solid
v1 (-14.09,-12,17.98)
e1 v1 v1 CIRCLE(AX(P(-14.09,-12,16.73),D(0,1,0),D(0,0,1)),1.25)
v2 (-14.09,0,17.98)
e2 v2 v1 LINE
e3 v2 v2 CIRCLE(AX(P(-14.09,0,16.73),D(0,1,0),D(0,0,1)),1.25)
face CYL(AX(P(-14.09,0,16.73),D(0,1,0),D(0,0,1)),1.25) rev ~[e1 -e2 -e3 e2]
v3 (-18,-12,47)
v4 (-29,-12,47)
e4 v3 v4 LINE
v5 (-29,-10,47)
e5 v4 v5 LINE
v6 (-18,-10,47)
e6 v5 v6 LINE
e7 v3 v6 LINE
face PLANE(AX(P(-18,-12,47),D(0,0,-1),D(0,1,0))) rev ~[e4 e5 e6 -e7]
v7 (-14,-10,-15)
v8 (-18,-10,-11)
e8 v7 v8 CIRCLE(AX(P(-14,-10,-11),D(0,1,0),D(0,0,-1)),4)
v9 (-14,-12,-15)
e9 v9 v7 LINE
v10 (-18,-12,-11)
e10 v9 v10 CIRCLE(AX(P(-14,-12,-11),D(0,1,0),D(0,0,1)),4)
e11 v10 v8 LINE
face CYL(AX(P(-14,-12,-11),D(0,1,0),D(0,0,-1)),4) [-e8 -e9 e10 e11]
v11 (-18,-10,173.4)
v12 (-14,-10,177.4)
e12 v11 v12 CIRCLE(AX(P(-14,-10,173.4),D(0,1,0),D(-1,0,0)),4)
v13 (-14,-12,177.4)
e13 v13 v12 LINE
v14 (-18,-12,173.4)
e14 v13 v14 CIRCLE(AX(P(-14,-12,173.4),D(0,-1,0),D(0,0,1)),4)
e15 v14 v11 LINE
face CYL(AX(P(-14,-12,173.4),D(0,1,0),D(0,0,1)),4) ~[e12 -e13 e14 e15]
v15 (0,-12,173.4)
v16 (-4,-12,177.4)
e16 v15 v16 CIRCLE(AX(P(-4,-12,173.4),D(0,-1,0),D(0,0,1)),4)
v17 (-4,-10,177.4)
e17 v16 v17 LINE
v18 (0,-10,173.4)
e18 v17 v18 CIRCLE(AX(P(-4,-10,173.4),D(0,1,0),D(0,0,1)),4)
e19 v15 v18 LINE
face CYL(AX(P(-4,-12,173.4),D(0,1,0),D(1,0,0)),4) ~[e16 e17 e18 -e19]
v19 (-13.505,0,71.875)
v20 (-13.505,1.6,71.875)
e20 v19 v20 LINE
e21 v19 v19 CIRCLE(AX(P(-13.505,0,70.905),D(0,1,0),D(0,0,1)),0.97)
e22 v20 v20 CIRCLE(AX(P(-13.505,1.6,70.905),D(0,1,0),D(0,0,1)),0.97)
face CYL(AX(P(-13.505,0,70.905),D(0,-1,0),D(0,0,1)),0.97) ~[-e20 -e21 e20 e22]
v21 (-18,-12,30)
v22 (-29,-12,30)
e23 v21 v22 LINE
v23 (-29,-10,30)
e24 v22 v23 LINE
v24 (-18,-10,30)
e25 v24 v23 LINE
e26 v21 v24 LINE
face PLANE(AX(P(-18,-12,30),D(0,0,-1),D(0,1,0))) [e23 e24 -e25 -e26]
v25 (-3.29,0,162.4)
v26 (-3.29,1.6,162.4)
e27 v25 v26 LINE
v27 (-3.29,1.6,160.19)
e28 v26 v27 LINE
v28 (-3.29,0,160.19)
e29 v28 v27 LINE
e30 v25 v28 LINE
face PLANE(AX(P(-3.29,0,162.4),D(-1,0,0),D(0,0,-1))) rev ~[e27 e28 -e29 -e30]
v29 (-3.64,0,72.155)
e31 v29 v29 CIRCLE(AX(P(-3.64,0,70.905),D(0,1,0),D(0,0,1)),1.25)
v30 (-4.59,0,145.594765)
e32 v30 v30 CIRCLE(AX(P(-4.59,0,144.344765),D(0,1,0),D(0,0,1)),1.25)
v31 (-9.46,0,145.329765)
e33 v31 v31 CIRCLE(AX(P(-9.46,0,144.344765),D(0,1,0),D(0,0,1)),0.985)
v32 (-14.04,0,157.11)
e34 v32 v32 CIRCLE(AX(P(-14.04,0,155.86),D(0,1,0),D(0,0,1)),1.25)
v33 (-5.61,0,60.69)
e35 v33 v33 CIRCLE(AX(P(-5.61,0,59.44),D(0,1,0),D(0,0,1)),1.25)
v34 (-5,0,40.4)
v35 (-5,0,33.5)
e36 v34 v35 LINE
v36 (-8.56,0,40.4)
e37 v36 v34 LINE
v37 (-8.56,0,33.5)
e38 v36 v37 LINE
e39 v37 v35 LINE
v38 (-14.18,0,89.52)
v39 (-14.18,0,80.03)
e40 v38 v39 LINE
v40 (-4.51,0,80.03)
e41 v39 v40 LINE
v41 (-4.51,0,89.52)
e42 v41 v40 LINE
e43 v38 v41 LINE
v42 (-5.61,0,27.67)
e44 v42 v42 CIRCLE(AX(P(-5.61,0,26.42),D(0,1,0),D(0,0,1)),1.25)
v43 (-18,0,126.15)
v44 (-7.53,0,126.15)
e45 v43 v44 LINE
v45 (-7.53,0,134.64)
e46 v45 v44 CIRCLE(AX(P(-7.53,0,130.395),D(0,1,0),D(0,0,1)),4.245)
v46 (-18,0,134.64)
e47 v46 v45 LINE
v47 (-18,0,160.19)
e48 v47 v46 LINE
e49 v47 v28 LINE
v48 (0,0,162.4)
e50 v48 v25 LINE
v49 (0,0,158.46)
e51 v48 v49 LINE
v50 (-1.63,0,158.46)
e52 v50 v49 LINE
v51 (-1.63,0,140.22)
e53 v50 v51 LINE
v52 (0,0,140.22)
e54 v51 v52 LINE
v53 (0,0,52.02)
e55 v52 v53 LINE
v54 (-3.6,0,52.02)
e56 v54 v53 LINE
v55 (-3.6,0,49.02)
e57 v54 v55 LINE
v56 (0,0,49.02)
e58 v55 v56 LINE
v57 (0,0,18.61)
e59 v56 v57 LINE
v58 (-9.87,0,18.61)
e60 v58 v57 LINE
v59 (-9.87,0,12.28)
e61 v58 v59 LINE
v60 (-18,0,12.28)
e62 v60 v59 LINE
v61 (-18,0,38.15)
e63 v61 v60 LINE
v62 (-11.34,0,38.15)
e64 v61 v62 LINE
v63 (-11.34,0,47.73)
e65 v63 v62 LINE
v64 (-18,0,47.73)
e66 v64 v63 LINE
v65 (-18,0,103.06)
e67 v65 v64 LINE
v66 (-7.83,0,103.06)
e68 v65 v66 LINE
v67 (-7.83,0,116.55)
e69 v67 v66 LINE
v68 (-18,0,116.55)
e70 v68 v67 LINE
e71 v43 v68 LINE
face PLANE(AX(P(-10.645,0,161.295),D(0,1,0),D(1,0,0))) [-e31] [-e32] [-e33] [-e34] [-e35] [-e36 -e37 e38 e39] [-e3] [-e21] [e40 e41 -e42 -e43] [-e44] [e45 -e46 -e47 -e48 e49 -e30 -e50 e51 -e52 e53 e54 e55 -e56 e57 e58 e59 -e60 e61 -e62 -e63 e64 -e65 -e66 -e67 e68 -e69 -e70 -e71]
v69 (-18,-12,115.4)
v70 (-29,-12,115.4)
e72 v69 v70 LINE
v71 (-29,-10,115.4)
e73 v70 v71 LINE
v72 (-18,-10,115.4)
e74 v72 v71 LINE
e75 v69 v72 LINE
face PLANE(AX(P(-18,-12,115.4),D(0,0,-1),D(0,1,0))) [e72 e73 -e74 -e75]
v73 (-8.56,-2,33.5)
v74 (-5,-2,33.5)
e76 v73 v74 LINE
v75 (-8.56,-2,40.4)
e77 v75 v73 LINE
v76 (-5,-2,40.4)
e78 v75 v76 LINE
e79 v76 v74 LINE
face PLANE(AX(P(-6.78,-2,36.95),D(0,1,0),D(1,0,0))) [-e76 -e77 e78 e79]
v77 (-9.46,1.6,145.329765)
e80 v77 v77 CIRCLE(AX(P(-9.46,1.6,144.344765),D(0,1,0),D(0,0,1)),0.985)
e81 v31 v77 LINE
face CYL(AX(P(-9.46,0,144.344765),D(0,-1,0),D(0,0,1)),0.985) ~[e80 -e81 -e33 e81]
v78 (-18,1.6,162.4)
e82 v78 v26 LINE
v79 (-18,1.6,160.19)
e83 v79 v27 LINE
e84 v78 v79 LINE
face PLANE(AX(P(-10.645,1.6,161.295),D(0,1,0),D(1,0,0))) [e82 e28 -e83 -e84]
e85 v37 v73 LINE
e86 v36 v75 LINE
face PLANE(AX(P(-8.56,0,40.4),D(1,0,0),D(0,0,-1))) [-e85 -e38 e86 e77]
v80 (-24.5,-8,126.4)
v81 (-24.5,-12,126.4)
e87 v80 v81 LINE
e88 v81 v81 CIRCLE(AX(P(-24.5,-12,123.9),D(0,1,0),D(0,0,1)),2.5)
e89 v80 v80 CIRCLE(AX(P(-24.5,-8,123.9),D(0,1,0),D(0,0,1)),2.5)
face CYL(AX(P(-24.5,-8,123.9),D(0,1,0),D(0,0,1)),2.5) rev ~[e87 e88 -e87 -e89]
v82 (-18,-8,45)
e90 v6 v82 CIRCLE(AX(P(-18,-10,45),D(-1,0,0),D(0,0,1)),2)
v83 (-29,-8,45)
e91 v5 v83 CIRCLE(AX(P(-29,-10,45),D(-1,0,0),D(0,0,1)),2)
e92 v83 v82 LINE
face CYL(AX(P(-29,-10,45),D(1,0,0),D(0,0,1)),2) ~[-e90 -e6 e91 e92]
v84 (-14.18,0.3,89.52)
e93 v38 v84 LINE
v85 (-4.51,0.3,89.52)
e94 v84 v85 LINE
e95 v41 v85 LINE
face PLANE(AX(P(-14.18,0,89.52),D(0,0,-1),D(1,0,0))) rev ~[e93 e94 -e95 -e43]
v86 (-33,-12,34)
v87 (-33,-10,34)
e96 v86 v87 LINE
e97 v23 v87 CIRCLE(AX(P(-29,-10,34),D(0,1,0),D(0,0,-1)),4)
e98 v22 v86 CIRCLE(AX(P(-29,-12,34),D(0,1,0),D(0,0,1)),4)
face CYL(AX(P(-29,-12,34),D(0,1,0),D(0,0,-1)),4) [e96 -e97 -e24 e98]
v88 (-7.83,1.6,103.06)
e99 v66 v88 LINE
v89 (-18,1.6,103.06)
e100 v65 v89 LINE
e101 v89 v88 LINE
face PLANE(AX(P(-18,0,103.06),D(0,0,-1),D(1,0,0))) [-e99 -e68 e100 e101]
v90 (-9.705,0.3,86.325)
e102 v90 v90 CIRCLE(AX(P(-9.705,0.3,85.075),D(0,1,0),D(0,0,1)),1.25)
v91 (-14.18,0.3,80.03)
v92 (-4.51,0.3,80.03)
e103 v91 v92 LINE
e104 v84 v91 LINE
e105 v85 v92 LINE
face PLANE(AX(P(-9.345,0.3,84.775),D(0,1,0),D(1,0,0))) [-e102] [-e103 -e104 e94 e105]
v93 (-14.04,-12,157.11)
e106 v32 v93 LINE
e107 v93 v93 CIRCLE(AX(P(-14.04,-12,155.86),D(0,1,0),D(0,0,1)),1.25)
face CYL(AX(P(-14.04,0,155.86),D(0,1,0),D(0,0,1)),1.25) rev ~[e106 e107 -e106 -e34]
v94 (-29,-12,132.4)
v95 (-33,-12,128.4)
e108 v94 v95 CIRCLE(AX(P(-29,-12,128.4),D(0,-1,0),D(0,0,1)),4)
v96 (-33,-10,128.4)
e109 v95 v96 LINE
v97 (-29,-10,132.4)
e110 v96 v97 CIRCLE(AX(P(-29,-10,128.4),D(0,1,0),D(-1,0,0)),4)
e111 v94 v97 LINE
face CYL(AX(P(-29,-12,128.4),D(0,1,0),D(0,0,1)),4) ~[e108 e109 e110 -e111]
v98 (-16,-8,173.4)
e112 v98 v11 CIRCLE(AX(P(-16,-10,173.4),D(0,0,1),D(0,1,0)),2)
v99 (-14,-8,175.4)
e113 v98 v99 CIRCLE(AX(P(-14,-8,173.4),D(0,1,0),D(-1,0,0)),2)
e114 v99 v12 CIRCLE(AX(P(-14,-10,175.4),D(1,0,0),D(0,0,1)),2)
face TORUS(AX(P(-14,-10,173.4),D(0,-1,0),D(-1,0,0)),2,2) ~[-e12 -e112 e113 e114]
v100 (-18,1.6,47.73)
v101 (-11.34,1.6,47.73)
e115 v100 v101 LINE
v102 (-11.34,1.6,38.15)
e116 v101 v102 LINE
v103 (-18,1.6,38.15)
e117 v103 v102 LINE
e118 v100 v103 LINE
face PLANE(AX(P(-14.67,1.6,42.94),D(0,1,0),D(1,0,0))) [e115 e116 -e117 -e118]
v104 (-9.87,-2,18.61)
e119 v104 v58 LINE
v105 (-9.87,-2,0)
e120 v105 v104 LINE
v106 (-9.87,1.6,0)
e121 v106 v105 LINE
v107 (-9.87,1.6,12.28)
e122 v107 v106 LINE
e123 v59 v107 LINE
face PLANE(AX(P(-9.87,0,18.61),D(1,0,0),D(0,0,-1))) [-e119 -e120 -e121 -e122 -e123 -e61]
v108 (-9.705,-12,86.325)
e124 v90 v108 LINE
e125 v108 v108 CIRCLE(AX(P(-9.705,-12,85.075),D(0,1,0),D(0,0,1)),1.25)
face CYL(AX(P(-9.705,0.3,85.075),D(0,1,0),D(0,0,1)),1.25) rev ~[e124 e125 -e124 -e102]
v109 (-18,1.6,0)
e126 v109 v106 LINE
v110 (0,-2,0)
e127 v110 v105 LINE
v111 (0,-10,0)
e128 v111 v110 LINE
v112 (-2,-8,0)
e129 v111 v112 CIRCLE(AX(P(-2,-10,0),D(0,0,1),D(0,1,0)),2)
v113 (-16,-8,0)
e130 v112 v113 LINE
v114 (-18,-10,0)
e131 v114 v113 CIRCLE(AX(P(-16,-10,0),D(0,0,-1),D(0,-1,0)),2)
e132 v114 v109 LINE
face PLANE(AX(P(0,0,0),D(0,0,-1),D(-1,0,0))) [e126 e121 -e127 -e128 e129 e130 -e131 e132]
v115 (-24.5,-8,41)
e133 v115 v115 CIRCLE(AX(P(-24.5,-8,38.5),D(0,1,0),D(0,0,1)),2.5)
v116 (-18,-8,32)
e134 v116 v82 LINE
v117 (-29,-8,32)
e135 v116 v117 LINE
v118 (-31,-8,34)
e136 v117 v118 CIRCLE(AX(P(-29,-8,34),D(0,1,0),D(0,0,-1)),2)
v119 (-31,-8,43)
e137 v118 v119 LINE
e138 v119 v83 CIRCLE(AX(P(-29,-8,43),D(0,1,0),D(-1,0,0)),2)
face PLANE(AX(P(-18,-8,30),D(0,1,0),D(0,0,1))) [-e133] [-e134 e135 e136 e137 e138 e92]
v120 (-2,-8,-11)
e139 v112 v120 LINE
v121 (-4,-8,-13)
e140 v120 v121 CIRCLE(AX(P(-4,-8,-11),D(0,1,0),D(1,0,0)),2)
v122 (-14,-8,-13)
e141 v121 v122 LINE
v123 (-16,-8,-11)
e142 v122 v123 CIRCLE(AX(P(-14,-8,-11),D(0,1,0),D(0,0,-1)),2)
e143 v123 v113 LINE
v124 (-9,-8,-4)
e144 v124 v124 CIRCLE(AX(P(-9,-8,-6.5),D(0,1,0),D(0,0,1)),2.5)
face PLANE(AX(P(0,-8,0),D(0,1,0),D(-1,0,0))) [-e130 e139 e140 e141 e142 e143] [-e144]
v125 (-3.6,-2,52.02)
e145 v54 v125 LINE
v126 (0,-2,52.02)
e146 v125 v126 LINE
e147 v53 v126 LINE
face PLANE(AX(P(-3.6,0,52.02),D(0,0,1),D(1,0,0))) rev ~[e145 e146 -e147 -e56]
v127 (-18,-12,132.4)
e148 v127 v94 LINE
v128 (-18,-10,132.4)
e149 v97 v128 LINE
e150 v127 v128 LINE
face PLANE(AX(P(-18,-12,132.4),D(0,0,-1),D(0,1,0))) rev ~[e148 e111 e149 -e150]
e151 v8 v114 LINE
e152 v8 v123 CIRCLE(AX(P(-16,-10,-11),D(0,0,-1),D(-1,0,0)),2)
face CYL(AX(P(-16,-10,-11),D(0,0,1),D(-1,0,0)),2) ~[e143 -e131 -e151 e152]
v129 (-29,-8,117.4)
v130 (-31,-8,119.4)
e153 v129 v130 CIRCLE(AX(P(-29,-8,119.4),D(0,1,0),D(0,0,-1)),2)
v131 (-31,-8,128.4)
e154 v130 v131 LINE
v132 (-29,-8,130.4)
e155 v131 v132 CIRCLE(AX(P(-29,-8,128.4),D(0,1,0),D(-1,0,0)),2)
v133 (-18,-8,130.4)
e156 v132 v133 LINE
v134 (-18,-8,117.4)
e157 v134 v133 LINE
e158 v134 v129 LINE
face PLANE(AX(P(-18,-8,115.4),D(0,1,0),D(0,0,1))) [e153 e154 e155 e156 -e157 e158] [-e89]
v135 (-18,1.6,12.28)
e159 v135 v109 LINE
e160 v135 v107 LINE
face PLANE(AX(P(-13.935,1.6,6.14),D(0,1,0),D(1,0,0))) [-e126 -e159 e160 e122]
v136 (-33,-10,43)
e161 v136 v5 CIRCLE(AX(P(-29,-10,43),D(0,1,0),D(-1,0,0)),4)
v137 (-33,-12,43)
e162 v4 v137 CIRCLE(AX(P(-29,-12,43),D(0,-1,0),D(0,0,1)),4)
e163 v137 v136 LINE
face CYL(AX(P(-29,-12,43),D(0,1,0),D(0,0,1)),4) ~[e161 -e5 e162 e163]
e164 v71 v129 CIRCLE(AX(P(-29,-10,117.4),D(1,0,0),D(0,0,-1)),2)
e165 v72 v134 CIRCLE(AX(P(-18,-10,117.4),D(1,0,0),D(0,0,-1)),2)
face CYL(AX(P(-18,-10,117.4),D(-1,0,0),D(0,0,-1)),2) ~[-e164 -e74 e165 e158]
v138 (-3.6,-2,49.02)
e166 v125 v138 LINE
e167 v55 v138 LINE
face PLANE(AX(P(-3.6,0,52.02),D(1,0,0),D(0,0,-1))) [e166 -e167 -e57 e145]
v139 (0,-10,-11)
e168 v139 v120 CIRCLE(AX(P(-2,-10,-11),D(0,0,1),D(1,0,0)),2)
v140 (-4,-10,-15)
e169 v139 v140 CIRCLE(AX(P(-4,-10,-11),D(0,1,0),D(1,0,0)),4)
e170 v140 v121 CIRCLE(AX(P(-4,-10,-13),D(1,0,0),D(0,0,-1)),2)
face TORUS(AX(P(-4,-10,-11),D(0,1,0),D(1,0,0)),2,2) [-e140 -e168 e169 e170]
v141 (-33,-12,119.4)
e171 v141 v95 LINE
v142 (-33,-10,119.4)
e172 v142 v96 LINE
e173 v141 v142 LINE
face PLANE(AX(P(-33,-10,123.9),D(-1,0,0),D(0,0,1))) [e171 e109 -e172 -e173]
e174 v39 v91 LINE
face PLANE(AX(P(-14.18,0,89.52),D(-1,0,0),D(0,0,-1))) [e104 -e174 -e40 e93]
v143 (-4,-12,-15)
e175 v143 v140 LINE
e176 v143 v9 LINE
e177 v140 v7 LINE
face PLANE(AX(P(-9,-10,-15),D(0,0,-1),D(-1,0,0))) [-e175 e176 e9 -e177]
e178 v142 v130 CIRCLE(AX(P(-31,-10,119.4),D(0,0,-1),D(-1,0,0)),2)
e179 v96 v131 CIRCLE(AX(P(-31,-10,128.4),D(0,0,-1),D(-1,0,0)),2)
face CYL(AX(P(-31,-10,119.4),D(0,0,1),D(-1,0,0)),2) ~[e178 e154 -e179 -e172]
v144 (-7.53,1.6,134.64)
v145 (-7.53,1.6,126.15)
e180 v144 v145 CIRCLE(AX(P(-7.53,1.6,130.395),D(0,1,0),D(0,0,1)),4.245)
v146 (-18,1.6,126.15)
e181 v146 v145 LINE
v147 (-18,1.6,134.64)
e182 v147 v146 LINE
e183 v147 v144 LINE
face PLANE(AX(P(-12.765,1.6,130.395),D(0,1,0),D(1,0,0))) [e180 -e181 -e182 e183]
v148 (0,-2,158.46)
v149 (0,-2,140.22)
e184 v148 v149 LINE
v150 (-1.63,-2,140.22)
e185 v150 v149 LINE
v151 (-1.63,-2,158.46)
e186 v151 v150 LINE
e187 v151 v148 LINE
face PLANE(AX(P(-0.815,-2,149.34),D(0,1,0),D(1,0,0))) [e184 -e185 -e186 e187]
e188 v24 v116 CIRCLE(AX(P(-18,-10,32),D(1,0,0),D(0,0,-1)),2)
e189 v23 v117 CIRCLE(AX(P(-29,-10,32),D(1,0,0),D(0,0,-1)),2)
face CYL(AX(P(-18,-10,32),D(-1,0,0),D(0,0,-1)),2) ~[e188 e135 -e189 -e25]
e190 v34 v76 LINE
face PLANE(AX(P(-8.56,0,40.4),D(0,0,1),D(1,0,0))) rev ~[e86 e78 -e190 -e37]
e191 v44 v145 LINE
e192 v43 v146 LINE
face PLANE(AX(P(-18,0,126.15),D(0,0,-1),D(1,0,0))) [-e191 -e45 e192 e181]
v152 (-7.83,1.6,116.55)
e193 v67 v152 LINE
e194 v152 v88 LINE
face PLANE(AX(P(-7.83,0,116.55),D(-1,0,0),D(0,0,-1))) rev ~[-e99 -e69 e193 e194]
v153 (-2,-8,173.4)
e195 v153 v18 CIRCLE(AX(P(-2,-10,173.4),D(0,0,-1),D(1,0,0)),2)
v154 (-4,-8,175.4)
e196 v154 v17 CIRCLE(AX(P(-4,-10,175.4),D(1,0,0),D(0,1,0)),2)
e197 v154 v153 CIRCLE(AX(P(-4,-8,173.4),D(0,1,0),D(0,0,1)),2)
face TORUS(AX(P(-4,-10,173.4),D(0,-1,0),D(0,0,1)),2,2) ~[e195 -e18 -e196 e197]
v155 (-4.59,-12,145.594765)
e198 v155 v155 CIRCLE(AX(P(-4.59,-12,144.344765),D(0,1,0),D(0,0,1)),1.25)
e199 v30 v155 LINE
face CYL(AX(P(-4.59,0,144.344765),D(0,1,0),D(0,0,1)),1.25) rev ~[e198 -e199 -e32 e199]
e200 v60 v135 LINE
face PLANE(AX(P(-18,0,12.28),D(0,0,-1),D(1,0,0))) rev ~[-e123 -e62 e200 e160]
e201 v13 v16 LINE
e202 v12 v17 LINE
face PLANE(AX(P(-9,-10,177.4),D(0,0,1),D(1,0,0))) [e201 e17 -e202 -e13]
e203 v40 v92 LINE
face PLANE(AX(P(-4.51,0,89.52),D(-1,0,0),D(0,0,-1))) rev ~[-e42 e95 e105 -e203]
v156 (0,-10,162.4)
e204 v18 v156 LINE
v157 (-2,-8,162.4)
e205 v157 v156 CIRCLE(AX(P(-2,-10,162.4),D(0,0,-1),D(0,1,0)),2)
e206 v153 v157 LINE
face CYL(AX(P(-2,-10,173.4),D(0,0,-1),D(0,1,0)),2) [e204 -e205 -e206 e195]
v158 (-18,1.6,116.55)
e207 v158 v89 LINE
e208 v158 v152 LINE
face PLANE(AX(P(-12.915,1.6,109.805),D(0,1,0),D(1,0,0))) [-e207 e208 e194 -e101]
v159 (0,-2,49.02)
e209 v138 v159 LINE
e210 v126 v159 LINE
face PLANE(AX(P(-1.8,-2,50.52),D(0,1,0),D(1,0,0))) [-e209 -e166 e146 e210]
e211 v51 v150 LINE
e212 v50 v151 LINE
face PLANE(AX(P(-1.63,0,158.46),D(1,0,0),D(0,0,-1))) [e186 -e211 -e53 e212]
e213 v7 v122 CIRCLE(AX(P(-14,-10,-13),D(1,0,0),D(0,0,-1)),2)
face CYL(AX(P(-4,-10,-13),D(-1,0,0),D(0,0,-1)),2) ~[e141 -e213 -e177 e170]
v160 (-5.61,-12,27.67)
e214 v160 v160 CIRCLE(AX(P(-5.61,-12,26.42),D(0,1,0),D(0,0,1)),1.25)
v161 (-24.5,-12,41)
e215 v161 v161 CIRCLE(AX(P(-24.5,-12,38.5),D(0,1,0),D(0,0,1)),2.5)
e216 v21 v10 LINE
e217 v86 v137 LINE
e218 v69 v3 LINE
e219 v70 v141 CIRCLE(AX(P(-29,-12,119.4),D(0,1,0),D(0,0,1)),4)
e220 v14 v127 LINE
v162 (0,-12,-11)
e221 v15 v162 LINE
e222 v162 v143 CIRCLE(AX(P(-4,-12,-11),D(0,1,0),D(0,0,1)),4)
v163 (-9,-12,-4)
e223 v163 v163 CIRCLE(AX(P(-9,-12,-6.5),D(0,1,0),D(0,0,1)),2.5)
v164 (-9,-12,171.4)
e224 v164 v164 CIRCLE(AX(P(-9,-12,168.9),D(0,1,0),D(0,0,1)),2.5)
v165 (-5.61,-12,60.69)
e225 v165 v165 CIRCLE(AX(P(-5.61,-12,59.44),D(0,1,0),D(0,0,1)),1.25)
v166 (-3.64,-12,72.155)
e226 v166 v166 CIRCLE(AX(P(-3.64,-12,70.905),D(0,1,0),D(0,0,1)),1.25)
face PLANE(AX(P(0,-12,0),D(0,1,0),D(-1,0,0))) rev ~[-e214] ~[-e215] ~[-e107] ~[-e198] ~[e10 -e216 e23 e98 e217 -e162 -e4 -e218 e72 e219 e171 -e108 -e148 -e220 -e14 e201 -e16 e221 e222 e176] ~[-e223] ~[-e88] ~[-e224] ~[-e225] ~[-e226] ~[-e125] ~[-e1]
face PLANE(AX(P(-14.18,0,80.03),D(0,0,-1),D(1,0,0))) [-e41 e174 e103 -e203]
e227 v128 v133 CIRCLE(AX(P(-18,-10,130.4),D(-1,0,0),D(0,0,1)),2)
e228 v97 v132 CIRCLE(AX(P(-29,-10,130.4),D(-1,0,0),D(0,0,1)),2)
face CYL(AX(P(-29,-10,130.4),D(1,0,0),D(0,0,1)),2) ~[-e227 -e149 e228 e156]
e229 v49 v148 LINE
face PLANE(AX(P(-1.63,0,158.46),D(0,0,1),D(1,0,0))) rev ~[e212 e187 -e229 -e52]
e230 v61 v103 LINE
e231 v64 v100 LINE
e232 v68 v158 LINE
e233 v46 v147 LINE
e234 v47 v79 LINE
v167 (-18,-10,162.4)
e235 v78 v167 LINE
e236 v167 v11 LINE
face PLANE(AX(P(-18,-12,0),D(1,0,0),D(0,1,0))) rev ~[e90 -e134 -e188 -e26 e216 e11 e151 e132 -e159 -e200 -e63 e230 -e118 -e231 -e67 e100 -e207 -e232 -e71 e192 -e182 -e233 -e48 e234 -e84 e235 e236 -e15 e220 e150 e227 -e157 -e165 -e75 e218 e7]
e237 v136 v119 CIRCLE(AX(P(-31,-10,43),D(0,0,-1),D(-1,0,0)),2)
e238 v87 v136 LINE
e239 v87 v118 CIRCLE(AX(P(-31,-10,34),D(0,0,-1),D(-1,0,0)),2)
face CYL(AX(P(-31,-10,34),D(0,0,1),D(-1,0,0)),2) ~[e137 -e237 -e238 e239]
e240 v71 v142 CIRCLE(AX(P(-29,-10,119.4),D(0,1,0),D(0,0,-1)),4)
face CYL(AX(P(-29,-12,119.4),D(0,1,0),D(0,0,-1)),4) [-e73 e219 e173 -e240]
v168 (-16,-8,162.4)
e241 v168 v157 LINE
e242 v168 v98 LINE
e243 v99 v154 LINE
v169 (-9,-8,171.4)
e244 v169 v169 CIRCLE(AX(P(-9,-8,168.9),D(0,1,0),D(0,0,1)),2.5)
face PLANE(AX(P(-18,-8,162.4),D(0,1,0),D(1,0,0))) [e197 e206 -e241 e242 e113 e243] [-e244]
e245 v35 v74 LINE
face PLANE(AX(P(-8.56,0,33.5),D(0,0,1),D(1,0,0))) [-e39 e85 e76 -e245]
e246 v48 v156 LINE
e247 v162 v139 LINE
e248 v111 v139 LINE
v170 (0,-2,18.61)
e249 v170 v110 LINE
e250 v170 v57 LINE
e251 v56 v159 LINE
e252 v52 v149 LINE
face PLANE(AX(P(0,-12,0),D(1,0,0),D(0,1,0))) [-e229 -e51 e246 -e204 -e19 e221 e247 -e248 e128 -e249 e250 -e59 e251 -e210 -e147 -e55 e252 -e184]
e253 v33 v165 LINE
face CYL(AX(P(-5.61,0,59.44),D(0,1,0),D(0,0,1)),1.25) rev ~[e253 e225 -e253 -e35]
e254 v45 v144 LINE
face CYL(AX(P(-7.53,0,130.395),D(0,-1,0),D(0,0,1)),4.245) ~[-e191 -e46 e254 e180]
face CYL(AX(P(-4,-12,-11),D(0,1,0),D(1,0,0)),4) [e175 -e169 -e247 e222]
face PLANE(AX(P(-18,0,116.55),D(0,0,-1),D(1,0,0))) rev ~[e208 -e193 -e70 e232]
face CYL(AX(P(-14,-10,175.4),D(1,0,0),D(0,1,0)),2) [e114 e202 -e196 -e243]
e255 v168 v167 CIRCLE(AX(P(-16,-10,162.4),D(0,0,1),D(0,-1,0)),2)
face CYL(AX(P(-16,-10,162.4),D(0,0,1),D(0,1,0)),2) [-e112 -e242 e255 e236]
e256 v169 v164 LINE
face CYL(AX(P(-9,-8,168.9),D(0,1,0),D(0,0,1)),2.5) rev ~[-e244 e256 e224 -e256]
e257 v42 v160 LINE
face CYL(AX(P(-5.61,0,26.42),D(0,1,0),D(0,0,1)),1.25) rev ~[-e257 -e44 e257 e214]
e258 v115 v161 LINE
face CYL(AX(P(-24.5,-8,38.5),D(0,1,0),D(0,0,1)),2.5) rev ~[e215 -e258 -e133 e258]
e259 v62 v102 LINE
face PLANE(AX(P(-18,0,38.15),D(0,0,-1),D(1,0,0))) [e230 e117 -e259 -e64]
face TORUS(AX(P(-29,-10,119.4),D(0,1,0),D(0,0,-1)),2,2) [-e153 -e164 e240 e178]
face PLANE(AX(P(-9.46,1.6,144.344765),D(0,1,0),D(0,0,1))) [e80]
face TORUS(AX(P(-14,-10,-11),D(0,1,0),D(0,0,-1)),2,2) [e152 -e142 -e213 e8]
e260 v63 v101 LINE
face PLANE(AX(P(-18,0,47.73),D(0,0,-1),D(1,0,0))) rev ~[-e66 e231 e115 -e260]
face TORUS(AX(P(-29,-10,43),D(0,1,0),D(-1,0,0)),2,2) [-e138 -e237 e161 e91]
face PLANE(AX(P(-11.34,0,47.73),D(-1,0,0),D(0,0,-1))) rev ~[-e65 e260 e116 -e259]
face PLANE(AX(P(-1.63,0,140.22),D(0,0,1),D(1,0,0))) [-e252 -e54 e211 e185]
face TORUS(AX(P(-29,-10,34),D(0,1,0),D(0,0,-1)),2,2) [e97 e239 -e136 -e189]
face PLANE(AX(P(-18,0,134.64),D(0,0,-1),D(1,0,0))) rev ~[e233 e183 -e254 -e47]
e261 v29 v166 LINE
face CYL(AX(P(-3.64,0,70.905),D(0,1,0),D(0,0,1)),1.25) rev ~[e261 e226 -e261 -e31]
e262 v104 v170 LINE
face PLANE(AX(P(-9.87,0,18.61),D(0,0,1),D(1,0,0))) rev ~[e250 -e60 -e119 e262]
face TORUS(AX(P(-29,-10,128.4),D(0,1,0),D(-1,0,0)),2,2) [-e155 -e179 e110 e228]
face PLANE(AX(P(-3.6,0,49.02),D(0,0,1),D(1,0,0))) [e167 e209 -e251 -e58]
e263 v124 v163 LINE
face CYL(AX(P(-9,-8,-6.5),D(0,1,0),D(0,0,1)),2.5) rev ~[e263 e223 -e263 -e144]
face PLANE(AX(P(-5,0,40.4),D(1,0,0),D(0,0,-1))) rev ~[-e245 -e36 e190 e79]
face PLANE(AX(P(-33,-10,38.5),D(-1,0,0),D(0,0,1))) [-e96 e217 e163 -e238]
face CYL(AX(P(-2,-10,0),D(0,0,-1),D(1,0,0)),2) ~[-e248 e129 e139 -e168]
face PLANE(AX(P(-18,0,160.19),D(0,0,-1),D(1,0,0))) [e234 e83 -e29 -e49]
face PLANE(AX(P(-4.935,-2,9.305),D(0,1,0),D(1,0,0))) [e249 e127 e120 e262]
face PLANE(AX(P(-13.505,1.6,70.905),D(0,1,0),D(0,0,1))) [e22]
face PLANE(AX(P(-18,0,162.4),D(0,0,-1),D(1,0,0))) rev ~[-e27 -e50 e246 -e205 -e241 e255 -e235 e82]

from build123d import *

# Parameters (mm, degrees)
SKETCH1_W           = 9.67
SKETCH1_H           = 9.49
SKETCH1_W_2         = 6.66
SKETCH1_H_2         = 9.58
SKETCH1_W_3         = 8.13
SKETCH1_H_3         = 12.28
SKETCH1_W_4         = 10.17
SKETCH1_H_4         = 13.49
SKETCH1_W_5         = 10.47
SKETCH1_H_5         = 8.49
SKETCH1_W_6         = 14.71
SKETCH1_H_6         = 2.21
BOSS_EXTRUDE1_DEPTH = 12
SKETCH1_4_W         = 14.71
SKETCH1_4_H         = 2.21
SKETCH1_4_W_2       = 10.47
SKETCH1_4_H_2       = 8.49
SKETCH1_4_W_3       = 10.17
SKETCH1_4_H_3       = 13.49
SKETCH1_4_W_4       = 6.66
SKETCH1_4_H_4       = 9.58
SKETCH1_4_W_5       = 8.13
SKETCH1_4_H_5       = 12.28
BOSS_EXTRUDE2_DEPTH = 1.6
SKETCH1_5_W         = 9.67
SKETCH1_5_H         = 9.49
BOSS_EXTRUDE3_DEPTH = 0.3
SKETCH2_W           = 18
SKETCH2_H           = 4
BOSS_EXTRUDE4_DEPTH = 15
SKETCH3_W           = 18
SKETCH3_H           = 4
BOSS_EXTRUDE5_DEPTH = 15
SKETCH4_W           = 17
SKETCH4_H           = 4
BOSS_EXTRUDE6_DEPTH = 15
FILLET1_R           = 4
FILLET2_R           = 2
CUT_EXTRUDE1_REACH  = 182.698
SKETCH5_R           = 2.5
SKETCH6_R           = 0.985
BOSS_EXTRUDE7_DEPTH = 1.6
CUT_EXTRUDE2_REACH  = 182.842
SKETCH6_3_R         = 1.25
CUT_EXTRUDE3_REACH  = 182.862
SKETCH7_R           = 1.25
SKETCH8_R           = 0.97
BOSS_EXTRUDE8_DEPTH = 1.6
CUT_EXTRUDE4_REACH  = 182.842
SKETCH8_3_R         = 1.25
CUT_EXTRUDE5_REACH  = 182.842
SKETCH9_R           = 1.25
SKETCH9_3_R         = 1.25
SKETCH9_3_W         = 9.87
SKETCH9_3_H         = 18.61
CUT_EXTRUDE6_DEPTH  = 1.6
CUT_EXTRUDE9_DEPTH  = 2
SKETCH11_W          = 3.56
SKETCH11_H          = 6.9
CUT_EXTRUDE10_DEPTH = 2
SKETCH14_W          = 3.6
SKETCH14_H          = 3
CUT_EXTRUDE11_DEPTH = 2
SKETCH15_W          = 1.63
SKETCH15_H          = 18.24
CUT_EXTRUDE12_DEPTH = 2


with BuildPart() as part:
    # Sketch1 → Boss-Extrude1 (new body)
    # profile 1 of 8: a face of its own
    with BuildSketch(Plane(origin=(0, 0, 0), x_dir=(1, 0, 0), z_dir=(0, 1, 0))):
        with BuildLine():
            Line((0, -162.4), (0, 0))
            Line((0, 0), (-9.87, 0))
            Line((-9.87, 0), (-9.87, -12.28))
            Line((-9.87, -12.28), (-18, -12.28))
            Line((-18, -12.28), (-18, -38.15))
            Line((-18, -38.15), (-11.34, -38.15))
            Line((-11.34, -38.15), (-11.34, -47.73))
            Line((-11.34, -47.73), (-18, -47.73))
            Line((-18, -47.73), (-18, -103.06))
            Line((-18, -103.06), (-7.83, -103.06))
            Line((-7.83, -103.06), (-7.83, -116.55))
            Line((-7.83, -116.55), (-18, -116.55))
            Line((-18, -116.55), (-18, -126.15))
            Line((-18, -126.15), (-7.53, -126.15))
            ThreePointArc((-7.53, -126.15), (-3.285, -130.395), (-7.53, -134.64))
            Line((-7.53, -134.64), (-18, -134.64))
            Line((-18, -134.64), (-18, -160.19))
            Line((-18, -160.19), (-3.29, -160.19))
            Line((-3.29, -160.19), (-3.29, -162.4))
            Line((-3.29, -162.4), (0, -162.4))
        make_face()
        with Locations((-9.345, -84.775)):
            Rectangle(SKETCH1_W, SKETCH1_H, mode=Mode.SUBTRACT)
    # profile 2 of 8: a face of its own
    with BuildSketch(Plane(origin=(0, 0, 0), x_dir=(1, 0, 0), z_dir=(0, 1, 0))):
        with Locations((-9.345, -84.775)):
            Rectangle(SKETCH1_W, SKETCH1_H)
    # profile 3 of 8: a face of its own
    with BuildSketch(Plane(origin=(0, 0, 0), x_dir=(1, 0, 0), z_dir=(0, 1, 0))):
        with Locations((-14.67, -42.94)):
            Rectangle(SKETCH1_W_2, SKETCH1_H_2)
    # profile 4 of 8: a face of its own
    with BuildSketch(Plane(origin=(0, 0, 0), x_dir=(1, 0, 0), z_dir=(0, 1, 0))):
        with Locations((-13.935, -6.14)):
            Rectangle(SKETCH1_W_3, SKETCH1_H_3)
    # profile 5 of 8: a face of its own
    with BuildSketch(Plane(origin=(0, 0, 0), x_dir=(1, 0, 0), z_dir=(0, 1, 0))):
        with Locations((-12.915, -109.805)):
            Rectangle(SKETCH1_W_4, SKETCH1_H_4)
    # profile 6 of 8: a face of its own
    with BuildSketch(Plane(origin=(0, 0, 0), x_dir=(1, 0, 0), z_dir=(0, 1, 0))):
        with Locations((-12.765, -130.395)):
            Rectangle(SKETCH1_W_5, SKETCH1_H_5)
    # profile 7 of 8: a face of its own
    with BuildSketch(Plane(origin=(0, 0, 0), x_dir=(1, 0, 0), z_dir=(0, 1, 0))):
        with BuildLine():
            Line((-7.53, -126.15), (-7.53, -134.64))
            ThreePointArc((-7.53, -134.64), (-3.285, -130.395), (-7.53, -126.15))
        make_face()
    # profile 8 of 8: a face of its own
    with BuildSketch(Plane(origin=(0, 0, 0), x_dir=(1, 0, 0), z_dir=(0, 1, 0))):
        with Locations((-10.645, -161.295)):
            Rectangle(SKETCH1_W_6, SKETCH1_H_6)
    extrude(amount=-BOSS_EXTRUDE1_DEPTH)

    # Sketch1<4> → Boss-Extrude2 (add)
    with BuildSketch(Plane(origin=(0, 0, 0), x_dir=(1, 0, 0), z_dir=(0, 1, 0))):
        with Locations((-10.645, -161.295)):
            Rectangle(SKETCH1_4_W, SKETCH1_4_H)
        with Locations((-12.765, -130.395)):
            Rectangle(SKETCH1_4_W_2, SKETCH1_4_H_2)
        with BuildLine():
            Line((-7.53, -126.15), (-7.53, -134.64))
            ThreePointArc((-7.53, -134.64), (-3.285, -130.395), (-7.53, -126.15))
        make_face()
        with Locations((-12.915, -109.805)):
            Rectangle(SKETCH1_4_W_3, SKETCH1_4_H_3)
        with Locations((-14.67, -42.94)):
            Rectangle(SKETCH1_4_W_4, SKETCH1_4_H_4)
        with Locations((-13.935, -6.14)):
            Rectangle(SKETCH1_4_W_5, SKETCH1_4_H_5)
    extrude(amount=BOSS_EXTRUDE2_DEPTH)

    # Sketch1<5> → Boss-Extrude3 (add)
    with BuildSketch(Plane(origin=(0, 0, 0), x_dir=(1, 0, 0), z_dir=(0, 1, 0))):
        with Locations((-9.345, -84.775)):
            Rectangle(SKETCH1_5_W, SKETCH1_5_H)
    extrude(amount=BOSS_EXTRUDE3_DEPTH)

    # Sketch2 → Boss-Extrude4 (add)
    with BuildSketch(Plane.XY.offset(162.4)):
        with Locations((-9, -10)):
            Rectangle(SKETCH2_W, SKETCH2_H)
    extrude(amount=BOSS_EXTRUDE4_DEPTH)

    # Sketch3 → Boss-Extrude5 (add)
    with BuildSketch(Plane(origin=(0, 0, 0), x_dir=(-1, 0, 0), z_dir=(0, 0, -1))):
        with Locations((9, -10)):
            Rectangle(SKETCH3_W, SKETCH3_H)
    extrude(amount=BOSS_EXTRUDE5_DEPTH)

    # Sketch4 → Boss-Extrude6 (add)
    with BuildSketch(Plane.ZY.offset(18)):
        with Locations((38.5, -10)):
            Rectangle(SKETCH4_W, SKETCH4_H)
        with Locations((123.9, -10)):
            Rectangle(SKETCH4_W, SKETCH4_H)
    extrude(amount=BOSS_EXTRUDE6_DEPTH)

    # Fillet1
    fillet1_edges = [part.edges().sort_by_distance(p)[0] for p in [
        (-18, -10, 177.4),
        (0, -10, 177.4),
        (0, -10, -15),
        (-18, -10, -15),
        (-33, -10, 30),
        (-33, -10, 47),
        (-33, -10, 115.4),
        (-33, -10, 132.4),
    ]]
    fillet(fillet1_edges, radius=FILLET1_R)

    # Fillet2
    fillet2_edges = [part.edges().sort_by_distance(p)[0] for p in [
        (-9, -8, 177.4),
        (0, -8, 167.9),
        (-16.828427125, -8, 176.228427125),
        (-1.171572875, -8, 176.228427125),
        (0, -8, -5.5),
        (-33, -8, 123.9),
        (-23.5, -8, 115.4),
        (-23.5, -8, 132.4),
        (-31.828427125, -8, 116.571572875),
        (-31.828427125, -8, 131.228427125),
        (-33, -8, 38.5),
        (-23.5, -8, 30),
        (-23.5, -8, 47),
        (-31.828427125, -8, 31.171572875),
        (-31.828427125, -8, 45.828427125),
        (-9, -8, -15),
        (-16.828427125, -8, -13.828427125),
        (-1.171572875, -8, -13.828427125),
    ]]
    fillet(fillet2_edges, radius=FILLET2_R)

    # Sketch5 → Cut-Extrude1 (cut, up to next)
    with BuildSketch(Plane(origin=(0, -8, 0), x_dir=(1, 0, 0), z_dir=(0, 1, 0)), mode=Mode.PRIVATE) as cut_extrude1_sk1:
        with Locations(Location((-9, 6.5, 0), (0, 0, 270))):
            Circle(SKETCH5_R)
    cut_extrude1_tool1 = extrude(cut_extrude1_sk1.sketch, amount=-CUT_EXTRUDE1_REACH, mode=Mode.PRIVATE) & part.part
    # Sketch5 → Cut-Extrude1 (cut, up to next)
    with BuildSketch(Plane(origin=(0, -8, 0), x_dir=(1, 0, 0), z_dir=(0, 1, 0)), mode=Mode.PRIVATE) as cut_extrude1_sk2:
        with Locations(Location((-24.5, -38.5, 0), (0, 0, 270))):
            Circle(SKETCH5_R)
    cut_extrude1_tool2 = extrude(cut_extrude1_sk2.sketch, amount=-CUT_EXTRUDE1_REACH, mode=Mode.PRIVATE) & part.part
    # Sketch5 → Cut-Extrude1 (cut, up to next)
    with BuildSketch(Plane(origin=(0, -8, 0), x_dir=(1, 0, 0), z_dir=(0, 1, 0)), mode=Mode.PRIVATE) as cut_extrude1_sk3:
        with Locations(Location((-24.5, -123.9, 0), (0, 0, 270))):
            Circle(SKETCH5_R)
    cut_extrude1_tool3 = extrude(cut_extrude1_sk3.sketch, amount=-CUT_EXTRUDE1_REACH, mode=Mode.PRIVATE) & part.part
    # Sketch5 → Cut-Extrude1 (cut, up to next)
    with BuildSketch(Plane(origin=(0, -8, 0), x_dir=(1, 0, 0), z_dir=(0, 1, 0)), mode=Mode.PRIVATE) as cut_extrude1_sk4:
        with Locations(Location((-9, -168.9, 0), (0, 0, 270))):
            Circle(SKETCH5_R)
    cut_extrude1_tool4 = extrude(cut_extrude1_sk4.sketch, amount=-CUT_EXTRUDE1_REACH, mode=Mode.PRIVATE) & part.part
    add(cut_extrude1_tool1.solids().sort_by_distance((-9, -8, -6.5))[0], mode=Mode.SUBTRACT)
    add(cut_extrude1_tool2.solids().sort_by_distance((-24.5, -8, 38.5))[0], mode=Mode.SUBTRACT)
    add(cut_extrude1_tool3.solids().sort_by_distance((-24.5, -8, 123.9))[0], mode=Mode.SUBTRACT)
    add(cut_extrude1_tool4.solids().sort_by_distance((-9, -8, 168.9))[0], mode=Mode.SUBTRACT)

    # Sketch6 → Boss-Extrude7 (add)
    with BuildSketch(Plane(origin=(0, 0, 0), x_dir=(1, 0, 0), z_dir=(0, 1, 0))):
        with Locations(Location((-9.46, -144.344765373, 0), (0, 0, 270))):
            Circle(SKETCH6_R)
    extrude(amount=BOSS_EXTRUDE7_DEPTH)

    # Sketch6<3> → Cut-Extrude2 (cut, up to next)
    with BuildSketch(Plane(origin=(0, 0, 0), x_dir=(1, 0, 0), z_dir=(0, 1, 0)), mode=Mode.PRIVATE) as cut_extrude2_sk1:
        with Locations(Location((-14.04, -155.86, 0), (0, 0, 270))):
            Circle(SKETCH6_3_R)
    cut_extrude2_tool1 = extrude(cut_extrude2_sk1.sketch, amount=-CUT_EXTRUDE2_REACH, mode=Mode.PRIVATE) & part.part
    # Sketch6<3> → Cut-Extrude2 (cut, up to next)
    with BuildSketch(Plane(origin=(0, 0, 0), x_dir=(1, 0, 0), z_dir=(0, 1, 0)), mode=Mode.PRIVATE) as cut_extrude2_sk2:
        with Locations(Location((-4.59, -144.344765373, 0), (0, 0, 270))):
            Circle(SKETCH6_3_R)
    cut_extrude2_tool2 = extrude(cut_extrude2_sk2.sketch, amount=-CUT_EXTRUDE2_REACH, mode=Mode.PRIVATE) & part.part
    add(cut_extrude2_tool1.solids().sort_by_distance((-14.04, 0, 155.86))[0], mode=Mode.SUBTRACT)
    add(cut_extrude2_tool2.solids().sort_by_distance((-4.59, 0, 144.344765))[0], mode=Mode.SUBTRACT)

    # Sketch7 → Cut-Extrude3 (cut, up to next)
    with BuildSketch(Plane(origin=(0, 0.3, 0), x_dir=(1, 0, 0), z_dir=(0, 1, 0)), mode=Mode.PRIVATE) as cut_extrude3_sk1:
        with Locations(Location((-9.705, -85.075, 0), (0, 0, 270))):
            Circle(SKETCH7_R)
    cut_extrude3_tool1 = extrude(cut_extrude3_sk1.sketch, amount=-CUT_EXTRUDE3_REACH, mode=Mode.PRIVATE) & part.part
    add(cut_extrude3_tool1.solids().sort_by_distance((-9.705, 0.3, 85.075))[0], mode=Mode.SUBTRACT)

    # Sketch8 → Boss-Extrude8 (add)
    with BuildSketch(Plane(origin=(0, 0, 0), x_dir=(1, 0, 0), z_dir=(0, 1, 0))):
        with Locations(Location((-13.505, -70.905, 0), (0, 0, 270))):
            Circle(SKETCH8_R)
    extrude(amount=BOSS_EXTRUDE8_DEPTH)

    # Sketch8<3> → Cut-Extrude4 (cut, up to next)
    with BuildSketch(Plane(origin=(0, 0, 0), x_dir=(1, 0, 0), z_dir=(0, 1, 0)), mode=Mode.PRIVATE) as cut_extrude4_sk1:
        with Locations(Location((-3.64, -70.905, 0), (0, 0, 270))):
            Circle(SKETCH8_3_R)
    cut_extrude4_tool1 = extrude(cut_extrude4_sk1.sketch, amount=-CUT_EXTRUDE4_REACH, mode=Mode.PRIVATE) & part.part
    add(cut_extrude4_tool1.solids().sort_by_distance((-3.64, 0, 70.905))[0], mode=Mode.SUBTRACT)

    # Sketch9 → Cut-Extrude5 (cut, up to next)
    with BuildSketch(Plane(origin=(0, 0, 0), x_dir=(1, 0, 0), z_dir=(0, 1, 0)), mode=Mode.PRIVATE) as cut_extrude5_sk1:
        with Locations(Location((-5.61, -59.44, 0), (0, 0, 270))):
            Circle(SKETCH9_R)
    cut_extrude5_tool1 = extrude(cut_extrude5_sk1.sketch, amount=-CUT_EXTRUDE5_REACH, mode=Mode.PRIVATE) & part.part
    # Sketch9 → Cut-Extrude5 (cut, up to next)
    with BuildSketch(Plane(origin=(0, 0, 0), x_dir=(1, 0, 0), z_dir=(0, 1, 0)), mode=Mode.PRIVATE) as cut_extrude5_sk2:
        with Locations(Location((-5.61, -26.42, 0), (0, 0, 270))):
            Circle(SKETCH9_R)
    cut_extrude5_tool2 = extrude(cut_extrude5_sk2.sketch, amount=-CUT_EXTRUDE5_REACH, mode=Mode.PRIVATE) & part.part
    # Sketch9 → Cut-Extrude5 (cut, up to next)
    with BuildSketch(Plane(origin=(0, 0, 0), x_dir=(1, 0, 0), z_dir=(0, 1, 0)), mode=Mode.PRIVATE) as cut_extrude5_sk3:
        with Locations(Location((-14.09, -16.73, 0), (0, 0, 270))):
            Circle(SKETCH9_R)
    cut_extrude5_tool3 = extrude(cut_extrude5_sk3.sketch, amount=-CUT_EXTRUDE5_REACH, mode=Mode.PRIVATE) & part.part
    add(cut_extrude5_tool1.solids().sort_by_distance((-5.61, 0, 59.44))[0], mode=Mode.SUBTRACT)
    add(cut_extrude5_tool2.solids().sort_by_distance((-5.61, 0, 26.42))[0], mode=Mode.SUBTRACT)
    add(cut_extrude5_tool3.solids().sort_by_distance((-14.09, 0, 16.73))[0], mode=Mode.SUBTRACT)

    # Sketch9<3> → Cut-Extrude6 (cut)
    with BuildSketch(Plane(origin=(0, 0, 0), x_dir=(1, 0, 0), z_dir=(0, 1, 0))):
        with Locations(Location((-5.61, -59.44, 0), (0, 0, 270))):
            Circle(SKETCH9_3_R)
        with Locations(Location((-5.61, -26.42, 0), (0, 0, 270))):
            Circle(SKETCH9_3_R)
        with Locations(Location((-14.09, -16.73, 0), (0, 0, 270))):
            Circle(SKETCH9_3_R)
        with Locations((-4.935, -9.305)):
            Rectangle(SKETCH9_3_W, SKETCH9_3_H)
    extrude(amount=-CUT_EXTRUDE6_DEPTH, mode=Mode.SUBTRACT)

    # Sketch9<4> → Cut-Extrude9 (cut)
    with BuildSketch(Plane(origin=(0, 0, 0), x_dir=(1, 0, 0), z_dir=(0, 1, 0))):
        Polygon((0, -18.61), (0, 0), (-9.87, 0), (-9.87, -12.28), (-9.87, -18.61), align=None)
    extrude(amount=-CUT_EXTRUDE9_DEPTH, mode=Mode.SUBTRACT)

    # Sketch11 → Cut-Extrude10 (cut)
    with BuildSketch(Plane(origin=(0, 0, 0), x_dir=(1, 0, 0), z_dir=(0, 1, 0))):
        with Locations((-6.78, -36.95)):
            Rectangle(SKETCH11_W, SKETCH11_H)
    extrude(amount=-CUT_EXTRUDE10_DEPTH, mode=Mode.SUBTRACT)

    # Sketch14 → Cut-Extrude11 (cut)
    with BuildSketch(Plane(origin=(0, 0, 0), x_dir=(1, 0, 0), z_dir=(0, 1, 0))):
        with Locations((-1.8, -50.52)):
            Rectangle(SKETCH14_W, SKETCH14_H)
    extrude(amount=-CUT_EXTRUDE11_DEPTH, mode=Mode.SUBTRACT)

    # Sketch15 → Cut-Extrude12 (cut)
    with BuildSketch(Plane(origin=(0, 0, 0), x_dir=(1, 0, 0), z_dir=(0, 1, 0))):
        with Locations((-0.815, -149.34)):
            Rectangle(SKETCH15_W, SKETCH15_H)
    extrude(amount=-CUT_EXTRUDE12_DEPTH, mode=Mode.SUBTRACT)


solid = part.part
